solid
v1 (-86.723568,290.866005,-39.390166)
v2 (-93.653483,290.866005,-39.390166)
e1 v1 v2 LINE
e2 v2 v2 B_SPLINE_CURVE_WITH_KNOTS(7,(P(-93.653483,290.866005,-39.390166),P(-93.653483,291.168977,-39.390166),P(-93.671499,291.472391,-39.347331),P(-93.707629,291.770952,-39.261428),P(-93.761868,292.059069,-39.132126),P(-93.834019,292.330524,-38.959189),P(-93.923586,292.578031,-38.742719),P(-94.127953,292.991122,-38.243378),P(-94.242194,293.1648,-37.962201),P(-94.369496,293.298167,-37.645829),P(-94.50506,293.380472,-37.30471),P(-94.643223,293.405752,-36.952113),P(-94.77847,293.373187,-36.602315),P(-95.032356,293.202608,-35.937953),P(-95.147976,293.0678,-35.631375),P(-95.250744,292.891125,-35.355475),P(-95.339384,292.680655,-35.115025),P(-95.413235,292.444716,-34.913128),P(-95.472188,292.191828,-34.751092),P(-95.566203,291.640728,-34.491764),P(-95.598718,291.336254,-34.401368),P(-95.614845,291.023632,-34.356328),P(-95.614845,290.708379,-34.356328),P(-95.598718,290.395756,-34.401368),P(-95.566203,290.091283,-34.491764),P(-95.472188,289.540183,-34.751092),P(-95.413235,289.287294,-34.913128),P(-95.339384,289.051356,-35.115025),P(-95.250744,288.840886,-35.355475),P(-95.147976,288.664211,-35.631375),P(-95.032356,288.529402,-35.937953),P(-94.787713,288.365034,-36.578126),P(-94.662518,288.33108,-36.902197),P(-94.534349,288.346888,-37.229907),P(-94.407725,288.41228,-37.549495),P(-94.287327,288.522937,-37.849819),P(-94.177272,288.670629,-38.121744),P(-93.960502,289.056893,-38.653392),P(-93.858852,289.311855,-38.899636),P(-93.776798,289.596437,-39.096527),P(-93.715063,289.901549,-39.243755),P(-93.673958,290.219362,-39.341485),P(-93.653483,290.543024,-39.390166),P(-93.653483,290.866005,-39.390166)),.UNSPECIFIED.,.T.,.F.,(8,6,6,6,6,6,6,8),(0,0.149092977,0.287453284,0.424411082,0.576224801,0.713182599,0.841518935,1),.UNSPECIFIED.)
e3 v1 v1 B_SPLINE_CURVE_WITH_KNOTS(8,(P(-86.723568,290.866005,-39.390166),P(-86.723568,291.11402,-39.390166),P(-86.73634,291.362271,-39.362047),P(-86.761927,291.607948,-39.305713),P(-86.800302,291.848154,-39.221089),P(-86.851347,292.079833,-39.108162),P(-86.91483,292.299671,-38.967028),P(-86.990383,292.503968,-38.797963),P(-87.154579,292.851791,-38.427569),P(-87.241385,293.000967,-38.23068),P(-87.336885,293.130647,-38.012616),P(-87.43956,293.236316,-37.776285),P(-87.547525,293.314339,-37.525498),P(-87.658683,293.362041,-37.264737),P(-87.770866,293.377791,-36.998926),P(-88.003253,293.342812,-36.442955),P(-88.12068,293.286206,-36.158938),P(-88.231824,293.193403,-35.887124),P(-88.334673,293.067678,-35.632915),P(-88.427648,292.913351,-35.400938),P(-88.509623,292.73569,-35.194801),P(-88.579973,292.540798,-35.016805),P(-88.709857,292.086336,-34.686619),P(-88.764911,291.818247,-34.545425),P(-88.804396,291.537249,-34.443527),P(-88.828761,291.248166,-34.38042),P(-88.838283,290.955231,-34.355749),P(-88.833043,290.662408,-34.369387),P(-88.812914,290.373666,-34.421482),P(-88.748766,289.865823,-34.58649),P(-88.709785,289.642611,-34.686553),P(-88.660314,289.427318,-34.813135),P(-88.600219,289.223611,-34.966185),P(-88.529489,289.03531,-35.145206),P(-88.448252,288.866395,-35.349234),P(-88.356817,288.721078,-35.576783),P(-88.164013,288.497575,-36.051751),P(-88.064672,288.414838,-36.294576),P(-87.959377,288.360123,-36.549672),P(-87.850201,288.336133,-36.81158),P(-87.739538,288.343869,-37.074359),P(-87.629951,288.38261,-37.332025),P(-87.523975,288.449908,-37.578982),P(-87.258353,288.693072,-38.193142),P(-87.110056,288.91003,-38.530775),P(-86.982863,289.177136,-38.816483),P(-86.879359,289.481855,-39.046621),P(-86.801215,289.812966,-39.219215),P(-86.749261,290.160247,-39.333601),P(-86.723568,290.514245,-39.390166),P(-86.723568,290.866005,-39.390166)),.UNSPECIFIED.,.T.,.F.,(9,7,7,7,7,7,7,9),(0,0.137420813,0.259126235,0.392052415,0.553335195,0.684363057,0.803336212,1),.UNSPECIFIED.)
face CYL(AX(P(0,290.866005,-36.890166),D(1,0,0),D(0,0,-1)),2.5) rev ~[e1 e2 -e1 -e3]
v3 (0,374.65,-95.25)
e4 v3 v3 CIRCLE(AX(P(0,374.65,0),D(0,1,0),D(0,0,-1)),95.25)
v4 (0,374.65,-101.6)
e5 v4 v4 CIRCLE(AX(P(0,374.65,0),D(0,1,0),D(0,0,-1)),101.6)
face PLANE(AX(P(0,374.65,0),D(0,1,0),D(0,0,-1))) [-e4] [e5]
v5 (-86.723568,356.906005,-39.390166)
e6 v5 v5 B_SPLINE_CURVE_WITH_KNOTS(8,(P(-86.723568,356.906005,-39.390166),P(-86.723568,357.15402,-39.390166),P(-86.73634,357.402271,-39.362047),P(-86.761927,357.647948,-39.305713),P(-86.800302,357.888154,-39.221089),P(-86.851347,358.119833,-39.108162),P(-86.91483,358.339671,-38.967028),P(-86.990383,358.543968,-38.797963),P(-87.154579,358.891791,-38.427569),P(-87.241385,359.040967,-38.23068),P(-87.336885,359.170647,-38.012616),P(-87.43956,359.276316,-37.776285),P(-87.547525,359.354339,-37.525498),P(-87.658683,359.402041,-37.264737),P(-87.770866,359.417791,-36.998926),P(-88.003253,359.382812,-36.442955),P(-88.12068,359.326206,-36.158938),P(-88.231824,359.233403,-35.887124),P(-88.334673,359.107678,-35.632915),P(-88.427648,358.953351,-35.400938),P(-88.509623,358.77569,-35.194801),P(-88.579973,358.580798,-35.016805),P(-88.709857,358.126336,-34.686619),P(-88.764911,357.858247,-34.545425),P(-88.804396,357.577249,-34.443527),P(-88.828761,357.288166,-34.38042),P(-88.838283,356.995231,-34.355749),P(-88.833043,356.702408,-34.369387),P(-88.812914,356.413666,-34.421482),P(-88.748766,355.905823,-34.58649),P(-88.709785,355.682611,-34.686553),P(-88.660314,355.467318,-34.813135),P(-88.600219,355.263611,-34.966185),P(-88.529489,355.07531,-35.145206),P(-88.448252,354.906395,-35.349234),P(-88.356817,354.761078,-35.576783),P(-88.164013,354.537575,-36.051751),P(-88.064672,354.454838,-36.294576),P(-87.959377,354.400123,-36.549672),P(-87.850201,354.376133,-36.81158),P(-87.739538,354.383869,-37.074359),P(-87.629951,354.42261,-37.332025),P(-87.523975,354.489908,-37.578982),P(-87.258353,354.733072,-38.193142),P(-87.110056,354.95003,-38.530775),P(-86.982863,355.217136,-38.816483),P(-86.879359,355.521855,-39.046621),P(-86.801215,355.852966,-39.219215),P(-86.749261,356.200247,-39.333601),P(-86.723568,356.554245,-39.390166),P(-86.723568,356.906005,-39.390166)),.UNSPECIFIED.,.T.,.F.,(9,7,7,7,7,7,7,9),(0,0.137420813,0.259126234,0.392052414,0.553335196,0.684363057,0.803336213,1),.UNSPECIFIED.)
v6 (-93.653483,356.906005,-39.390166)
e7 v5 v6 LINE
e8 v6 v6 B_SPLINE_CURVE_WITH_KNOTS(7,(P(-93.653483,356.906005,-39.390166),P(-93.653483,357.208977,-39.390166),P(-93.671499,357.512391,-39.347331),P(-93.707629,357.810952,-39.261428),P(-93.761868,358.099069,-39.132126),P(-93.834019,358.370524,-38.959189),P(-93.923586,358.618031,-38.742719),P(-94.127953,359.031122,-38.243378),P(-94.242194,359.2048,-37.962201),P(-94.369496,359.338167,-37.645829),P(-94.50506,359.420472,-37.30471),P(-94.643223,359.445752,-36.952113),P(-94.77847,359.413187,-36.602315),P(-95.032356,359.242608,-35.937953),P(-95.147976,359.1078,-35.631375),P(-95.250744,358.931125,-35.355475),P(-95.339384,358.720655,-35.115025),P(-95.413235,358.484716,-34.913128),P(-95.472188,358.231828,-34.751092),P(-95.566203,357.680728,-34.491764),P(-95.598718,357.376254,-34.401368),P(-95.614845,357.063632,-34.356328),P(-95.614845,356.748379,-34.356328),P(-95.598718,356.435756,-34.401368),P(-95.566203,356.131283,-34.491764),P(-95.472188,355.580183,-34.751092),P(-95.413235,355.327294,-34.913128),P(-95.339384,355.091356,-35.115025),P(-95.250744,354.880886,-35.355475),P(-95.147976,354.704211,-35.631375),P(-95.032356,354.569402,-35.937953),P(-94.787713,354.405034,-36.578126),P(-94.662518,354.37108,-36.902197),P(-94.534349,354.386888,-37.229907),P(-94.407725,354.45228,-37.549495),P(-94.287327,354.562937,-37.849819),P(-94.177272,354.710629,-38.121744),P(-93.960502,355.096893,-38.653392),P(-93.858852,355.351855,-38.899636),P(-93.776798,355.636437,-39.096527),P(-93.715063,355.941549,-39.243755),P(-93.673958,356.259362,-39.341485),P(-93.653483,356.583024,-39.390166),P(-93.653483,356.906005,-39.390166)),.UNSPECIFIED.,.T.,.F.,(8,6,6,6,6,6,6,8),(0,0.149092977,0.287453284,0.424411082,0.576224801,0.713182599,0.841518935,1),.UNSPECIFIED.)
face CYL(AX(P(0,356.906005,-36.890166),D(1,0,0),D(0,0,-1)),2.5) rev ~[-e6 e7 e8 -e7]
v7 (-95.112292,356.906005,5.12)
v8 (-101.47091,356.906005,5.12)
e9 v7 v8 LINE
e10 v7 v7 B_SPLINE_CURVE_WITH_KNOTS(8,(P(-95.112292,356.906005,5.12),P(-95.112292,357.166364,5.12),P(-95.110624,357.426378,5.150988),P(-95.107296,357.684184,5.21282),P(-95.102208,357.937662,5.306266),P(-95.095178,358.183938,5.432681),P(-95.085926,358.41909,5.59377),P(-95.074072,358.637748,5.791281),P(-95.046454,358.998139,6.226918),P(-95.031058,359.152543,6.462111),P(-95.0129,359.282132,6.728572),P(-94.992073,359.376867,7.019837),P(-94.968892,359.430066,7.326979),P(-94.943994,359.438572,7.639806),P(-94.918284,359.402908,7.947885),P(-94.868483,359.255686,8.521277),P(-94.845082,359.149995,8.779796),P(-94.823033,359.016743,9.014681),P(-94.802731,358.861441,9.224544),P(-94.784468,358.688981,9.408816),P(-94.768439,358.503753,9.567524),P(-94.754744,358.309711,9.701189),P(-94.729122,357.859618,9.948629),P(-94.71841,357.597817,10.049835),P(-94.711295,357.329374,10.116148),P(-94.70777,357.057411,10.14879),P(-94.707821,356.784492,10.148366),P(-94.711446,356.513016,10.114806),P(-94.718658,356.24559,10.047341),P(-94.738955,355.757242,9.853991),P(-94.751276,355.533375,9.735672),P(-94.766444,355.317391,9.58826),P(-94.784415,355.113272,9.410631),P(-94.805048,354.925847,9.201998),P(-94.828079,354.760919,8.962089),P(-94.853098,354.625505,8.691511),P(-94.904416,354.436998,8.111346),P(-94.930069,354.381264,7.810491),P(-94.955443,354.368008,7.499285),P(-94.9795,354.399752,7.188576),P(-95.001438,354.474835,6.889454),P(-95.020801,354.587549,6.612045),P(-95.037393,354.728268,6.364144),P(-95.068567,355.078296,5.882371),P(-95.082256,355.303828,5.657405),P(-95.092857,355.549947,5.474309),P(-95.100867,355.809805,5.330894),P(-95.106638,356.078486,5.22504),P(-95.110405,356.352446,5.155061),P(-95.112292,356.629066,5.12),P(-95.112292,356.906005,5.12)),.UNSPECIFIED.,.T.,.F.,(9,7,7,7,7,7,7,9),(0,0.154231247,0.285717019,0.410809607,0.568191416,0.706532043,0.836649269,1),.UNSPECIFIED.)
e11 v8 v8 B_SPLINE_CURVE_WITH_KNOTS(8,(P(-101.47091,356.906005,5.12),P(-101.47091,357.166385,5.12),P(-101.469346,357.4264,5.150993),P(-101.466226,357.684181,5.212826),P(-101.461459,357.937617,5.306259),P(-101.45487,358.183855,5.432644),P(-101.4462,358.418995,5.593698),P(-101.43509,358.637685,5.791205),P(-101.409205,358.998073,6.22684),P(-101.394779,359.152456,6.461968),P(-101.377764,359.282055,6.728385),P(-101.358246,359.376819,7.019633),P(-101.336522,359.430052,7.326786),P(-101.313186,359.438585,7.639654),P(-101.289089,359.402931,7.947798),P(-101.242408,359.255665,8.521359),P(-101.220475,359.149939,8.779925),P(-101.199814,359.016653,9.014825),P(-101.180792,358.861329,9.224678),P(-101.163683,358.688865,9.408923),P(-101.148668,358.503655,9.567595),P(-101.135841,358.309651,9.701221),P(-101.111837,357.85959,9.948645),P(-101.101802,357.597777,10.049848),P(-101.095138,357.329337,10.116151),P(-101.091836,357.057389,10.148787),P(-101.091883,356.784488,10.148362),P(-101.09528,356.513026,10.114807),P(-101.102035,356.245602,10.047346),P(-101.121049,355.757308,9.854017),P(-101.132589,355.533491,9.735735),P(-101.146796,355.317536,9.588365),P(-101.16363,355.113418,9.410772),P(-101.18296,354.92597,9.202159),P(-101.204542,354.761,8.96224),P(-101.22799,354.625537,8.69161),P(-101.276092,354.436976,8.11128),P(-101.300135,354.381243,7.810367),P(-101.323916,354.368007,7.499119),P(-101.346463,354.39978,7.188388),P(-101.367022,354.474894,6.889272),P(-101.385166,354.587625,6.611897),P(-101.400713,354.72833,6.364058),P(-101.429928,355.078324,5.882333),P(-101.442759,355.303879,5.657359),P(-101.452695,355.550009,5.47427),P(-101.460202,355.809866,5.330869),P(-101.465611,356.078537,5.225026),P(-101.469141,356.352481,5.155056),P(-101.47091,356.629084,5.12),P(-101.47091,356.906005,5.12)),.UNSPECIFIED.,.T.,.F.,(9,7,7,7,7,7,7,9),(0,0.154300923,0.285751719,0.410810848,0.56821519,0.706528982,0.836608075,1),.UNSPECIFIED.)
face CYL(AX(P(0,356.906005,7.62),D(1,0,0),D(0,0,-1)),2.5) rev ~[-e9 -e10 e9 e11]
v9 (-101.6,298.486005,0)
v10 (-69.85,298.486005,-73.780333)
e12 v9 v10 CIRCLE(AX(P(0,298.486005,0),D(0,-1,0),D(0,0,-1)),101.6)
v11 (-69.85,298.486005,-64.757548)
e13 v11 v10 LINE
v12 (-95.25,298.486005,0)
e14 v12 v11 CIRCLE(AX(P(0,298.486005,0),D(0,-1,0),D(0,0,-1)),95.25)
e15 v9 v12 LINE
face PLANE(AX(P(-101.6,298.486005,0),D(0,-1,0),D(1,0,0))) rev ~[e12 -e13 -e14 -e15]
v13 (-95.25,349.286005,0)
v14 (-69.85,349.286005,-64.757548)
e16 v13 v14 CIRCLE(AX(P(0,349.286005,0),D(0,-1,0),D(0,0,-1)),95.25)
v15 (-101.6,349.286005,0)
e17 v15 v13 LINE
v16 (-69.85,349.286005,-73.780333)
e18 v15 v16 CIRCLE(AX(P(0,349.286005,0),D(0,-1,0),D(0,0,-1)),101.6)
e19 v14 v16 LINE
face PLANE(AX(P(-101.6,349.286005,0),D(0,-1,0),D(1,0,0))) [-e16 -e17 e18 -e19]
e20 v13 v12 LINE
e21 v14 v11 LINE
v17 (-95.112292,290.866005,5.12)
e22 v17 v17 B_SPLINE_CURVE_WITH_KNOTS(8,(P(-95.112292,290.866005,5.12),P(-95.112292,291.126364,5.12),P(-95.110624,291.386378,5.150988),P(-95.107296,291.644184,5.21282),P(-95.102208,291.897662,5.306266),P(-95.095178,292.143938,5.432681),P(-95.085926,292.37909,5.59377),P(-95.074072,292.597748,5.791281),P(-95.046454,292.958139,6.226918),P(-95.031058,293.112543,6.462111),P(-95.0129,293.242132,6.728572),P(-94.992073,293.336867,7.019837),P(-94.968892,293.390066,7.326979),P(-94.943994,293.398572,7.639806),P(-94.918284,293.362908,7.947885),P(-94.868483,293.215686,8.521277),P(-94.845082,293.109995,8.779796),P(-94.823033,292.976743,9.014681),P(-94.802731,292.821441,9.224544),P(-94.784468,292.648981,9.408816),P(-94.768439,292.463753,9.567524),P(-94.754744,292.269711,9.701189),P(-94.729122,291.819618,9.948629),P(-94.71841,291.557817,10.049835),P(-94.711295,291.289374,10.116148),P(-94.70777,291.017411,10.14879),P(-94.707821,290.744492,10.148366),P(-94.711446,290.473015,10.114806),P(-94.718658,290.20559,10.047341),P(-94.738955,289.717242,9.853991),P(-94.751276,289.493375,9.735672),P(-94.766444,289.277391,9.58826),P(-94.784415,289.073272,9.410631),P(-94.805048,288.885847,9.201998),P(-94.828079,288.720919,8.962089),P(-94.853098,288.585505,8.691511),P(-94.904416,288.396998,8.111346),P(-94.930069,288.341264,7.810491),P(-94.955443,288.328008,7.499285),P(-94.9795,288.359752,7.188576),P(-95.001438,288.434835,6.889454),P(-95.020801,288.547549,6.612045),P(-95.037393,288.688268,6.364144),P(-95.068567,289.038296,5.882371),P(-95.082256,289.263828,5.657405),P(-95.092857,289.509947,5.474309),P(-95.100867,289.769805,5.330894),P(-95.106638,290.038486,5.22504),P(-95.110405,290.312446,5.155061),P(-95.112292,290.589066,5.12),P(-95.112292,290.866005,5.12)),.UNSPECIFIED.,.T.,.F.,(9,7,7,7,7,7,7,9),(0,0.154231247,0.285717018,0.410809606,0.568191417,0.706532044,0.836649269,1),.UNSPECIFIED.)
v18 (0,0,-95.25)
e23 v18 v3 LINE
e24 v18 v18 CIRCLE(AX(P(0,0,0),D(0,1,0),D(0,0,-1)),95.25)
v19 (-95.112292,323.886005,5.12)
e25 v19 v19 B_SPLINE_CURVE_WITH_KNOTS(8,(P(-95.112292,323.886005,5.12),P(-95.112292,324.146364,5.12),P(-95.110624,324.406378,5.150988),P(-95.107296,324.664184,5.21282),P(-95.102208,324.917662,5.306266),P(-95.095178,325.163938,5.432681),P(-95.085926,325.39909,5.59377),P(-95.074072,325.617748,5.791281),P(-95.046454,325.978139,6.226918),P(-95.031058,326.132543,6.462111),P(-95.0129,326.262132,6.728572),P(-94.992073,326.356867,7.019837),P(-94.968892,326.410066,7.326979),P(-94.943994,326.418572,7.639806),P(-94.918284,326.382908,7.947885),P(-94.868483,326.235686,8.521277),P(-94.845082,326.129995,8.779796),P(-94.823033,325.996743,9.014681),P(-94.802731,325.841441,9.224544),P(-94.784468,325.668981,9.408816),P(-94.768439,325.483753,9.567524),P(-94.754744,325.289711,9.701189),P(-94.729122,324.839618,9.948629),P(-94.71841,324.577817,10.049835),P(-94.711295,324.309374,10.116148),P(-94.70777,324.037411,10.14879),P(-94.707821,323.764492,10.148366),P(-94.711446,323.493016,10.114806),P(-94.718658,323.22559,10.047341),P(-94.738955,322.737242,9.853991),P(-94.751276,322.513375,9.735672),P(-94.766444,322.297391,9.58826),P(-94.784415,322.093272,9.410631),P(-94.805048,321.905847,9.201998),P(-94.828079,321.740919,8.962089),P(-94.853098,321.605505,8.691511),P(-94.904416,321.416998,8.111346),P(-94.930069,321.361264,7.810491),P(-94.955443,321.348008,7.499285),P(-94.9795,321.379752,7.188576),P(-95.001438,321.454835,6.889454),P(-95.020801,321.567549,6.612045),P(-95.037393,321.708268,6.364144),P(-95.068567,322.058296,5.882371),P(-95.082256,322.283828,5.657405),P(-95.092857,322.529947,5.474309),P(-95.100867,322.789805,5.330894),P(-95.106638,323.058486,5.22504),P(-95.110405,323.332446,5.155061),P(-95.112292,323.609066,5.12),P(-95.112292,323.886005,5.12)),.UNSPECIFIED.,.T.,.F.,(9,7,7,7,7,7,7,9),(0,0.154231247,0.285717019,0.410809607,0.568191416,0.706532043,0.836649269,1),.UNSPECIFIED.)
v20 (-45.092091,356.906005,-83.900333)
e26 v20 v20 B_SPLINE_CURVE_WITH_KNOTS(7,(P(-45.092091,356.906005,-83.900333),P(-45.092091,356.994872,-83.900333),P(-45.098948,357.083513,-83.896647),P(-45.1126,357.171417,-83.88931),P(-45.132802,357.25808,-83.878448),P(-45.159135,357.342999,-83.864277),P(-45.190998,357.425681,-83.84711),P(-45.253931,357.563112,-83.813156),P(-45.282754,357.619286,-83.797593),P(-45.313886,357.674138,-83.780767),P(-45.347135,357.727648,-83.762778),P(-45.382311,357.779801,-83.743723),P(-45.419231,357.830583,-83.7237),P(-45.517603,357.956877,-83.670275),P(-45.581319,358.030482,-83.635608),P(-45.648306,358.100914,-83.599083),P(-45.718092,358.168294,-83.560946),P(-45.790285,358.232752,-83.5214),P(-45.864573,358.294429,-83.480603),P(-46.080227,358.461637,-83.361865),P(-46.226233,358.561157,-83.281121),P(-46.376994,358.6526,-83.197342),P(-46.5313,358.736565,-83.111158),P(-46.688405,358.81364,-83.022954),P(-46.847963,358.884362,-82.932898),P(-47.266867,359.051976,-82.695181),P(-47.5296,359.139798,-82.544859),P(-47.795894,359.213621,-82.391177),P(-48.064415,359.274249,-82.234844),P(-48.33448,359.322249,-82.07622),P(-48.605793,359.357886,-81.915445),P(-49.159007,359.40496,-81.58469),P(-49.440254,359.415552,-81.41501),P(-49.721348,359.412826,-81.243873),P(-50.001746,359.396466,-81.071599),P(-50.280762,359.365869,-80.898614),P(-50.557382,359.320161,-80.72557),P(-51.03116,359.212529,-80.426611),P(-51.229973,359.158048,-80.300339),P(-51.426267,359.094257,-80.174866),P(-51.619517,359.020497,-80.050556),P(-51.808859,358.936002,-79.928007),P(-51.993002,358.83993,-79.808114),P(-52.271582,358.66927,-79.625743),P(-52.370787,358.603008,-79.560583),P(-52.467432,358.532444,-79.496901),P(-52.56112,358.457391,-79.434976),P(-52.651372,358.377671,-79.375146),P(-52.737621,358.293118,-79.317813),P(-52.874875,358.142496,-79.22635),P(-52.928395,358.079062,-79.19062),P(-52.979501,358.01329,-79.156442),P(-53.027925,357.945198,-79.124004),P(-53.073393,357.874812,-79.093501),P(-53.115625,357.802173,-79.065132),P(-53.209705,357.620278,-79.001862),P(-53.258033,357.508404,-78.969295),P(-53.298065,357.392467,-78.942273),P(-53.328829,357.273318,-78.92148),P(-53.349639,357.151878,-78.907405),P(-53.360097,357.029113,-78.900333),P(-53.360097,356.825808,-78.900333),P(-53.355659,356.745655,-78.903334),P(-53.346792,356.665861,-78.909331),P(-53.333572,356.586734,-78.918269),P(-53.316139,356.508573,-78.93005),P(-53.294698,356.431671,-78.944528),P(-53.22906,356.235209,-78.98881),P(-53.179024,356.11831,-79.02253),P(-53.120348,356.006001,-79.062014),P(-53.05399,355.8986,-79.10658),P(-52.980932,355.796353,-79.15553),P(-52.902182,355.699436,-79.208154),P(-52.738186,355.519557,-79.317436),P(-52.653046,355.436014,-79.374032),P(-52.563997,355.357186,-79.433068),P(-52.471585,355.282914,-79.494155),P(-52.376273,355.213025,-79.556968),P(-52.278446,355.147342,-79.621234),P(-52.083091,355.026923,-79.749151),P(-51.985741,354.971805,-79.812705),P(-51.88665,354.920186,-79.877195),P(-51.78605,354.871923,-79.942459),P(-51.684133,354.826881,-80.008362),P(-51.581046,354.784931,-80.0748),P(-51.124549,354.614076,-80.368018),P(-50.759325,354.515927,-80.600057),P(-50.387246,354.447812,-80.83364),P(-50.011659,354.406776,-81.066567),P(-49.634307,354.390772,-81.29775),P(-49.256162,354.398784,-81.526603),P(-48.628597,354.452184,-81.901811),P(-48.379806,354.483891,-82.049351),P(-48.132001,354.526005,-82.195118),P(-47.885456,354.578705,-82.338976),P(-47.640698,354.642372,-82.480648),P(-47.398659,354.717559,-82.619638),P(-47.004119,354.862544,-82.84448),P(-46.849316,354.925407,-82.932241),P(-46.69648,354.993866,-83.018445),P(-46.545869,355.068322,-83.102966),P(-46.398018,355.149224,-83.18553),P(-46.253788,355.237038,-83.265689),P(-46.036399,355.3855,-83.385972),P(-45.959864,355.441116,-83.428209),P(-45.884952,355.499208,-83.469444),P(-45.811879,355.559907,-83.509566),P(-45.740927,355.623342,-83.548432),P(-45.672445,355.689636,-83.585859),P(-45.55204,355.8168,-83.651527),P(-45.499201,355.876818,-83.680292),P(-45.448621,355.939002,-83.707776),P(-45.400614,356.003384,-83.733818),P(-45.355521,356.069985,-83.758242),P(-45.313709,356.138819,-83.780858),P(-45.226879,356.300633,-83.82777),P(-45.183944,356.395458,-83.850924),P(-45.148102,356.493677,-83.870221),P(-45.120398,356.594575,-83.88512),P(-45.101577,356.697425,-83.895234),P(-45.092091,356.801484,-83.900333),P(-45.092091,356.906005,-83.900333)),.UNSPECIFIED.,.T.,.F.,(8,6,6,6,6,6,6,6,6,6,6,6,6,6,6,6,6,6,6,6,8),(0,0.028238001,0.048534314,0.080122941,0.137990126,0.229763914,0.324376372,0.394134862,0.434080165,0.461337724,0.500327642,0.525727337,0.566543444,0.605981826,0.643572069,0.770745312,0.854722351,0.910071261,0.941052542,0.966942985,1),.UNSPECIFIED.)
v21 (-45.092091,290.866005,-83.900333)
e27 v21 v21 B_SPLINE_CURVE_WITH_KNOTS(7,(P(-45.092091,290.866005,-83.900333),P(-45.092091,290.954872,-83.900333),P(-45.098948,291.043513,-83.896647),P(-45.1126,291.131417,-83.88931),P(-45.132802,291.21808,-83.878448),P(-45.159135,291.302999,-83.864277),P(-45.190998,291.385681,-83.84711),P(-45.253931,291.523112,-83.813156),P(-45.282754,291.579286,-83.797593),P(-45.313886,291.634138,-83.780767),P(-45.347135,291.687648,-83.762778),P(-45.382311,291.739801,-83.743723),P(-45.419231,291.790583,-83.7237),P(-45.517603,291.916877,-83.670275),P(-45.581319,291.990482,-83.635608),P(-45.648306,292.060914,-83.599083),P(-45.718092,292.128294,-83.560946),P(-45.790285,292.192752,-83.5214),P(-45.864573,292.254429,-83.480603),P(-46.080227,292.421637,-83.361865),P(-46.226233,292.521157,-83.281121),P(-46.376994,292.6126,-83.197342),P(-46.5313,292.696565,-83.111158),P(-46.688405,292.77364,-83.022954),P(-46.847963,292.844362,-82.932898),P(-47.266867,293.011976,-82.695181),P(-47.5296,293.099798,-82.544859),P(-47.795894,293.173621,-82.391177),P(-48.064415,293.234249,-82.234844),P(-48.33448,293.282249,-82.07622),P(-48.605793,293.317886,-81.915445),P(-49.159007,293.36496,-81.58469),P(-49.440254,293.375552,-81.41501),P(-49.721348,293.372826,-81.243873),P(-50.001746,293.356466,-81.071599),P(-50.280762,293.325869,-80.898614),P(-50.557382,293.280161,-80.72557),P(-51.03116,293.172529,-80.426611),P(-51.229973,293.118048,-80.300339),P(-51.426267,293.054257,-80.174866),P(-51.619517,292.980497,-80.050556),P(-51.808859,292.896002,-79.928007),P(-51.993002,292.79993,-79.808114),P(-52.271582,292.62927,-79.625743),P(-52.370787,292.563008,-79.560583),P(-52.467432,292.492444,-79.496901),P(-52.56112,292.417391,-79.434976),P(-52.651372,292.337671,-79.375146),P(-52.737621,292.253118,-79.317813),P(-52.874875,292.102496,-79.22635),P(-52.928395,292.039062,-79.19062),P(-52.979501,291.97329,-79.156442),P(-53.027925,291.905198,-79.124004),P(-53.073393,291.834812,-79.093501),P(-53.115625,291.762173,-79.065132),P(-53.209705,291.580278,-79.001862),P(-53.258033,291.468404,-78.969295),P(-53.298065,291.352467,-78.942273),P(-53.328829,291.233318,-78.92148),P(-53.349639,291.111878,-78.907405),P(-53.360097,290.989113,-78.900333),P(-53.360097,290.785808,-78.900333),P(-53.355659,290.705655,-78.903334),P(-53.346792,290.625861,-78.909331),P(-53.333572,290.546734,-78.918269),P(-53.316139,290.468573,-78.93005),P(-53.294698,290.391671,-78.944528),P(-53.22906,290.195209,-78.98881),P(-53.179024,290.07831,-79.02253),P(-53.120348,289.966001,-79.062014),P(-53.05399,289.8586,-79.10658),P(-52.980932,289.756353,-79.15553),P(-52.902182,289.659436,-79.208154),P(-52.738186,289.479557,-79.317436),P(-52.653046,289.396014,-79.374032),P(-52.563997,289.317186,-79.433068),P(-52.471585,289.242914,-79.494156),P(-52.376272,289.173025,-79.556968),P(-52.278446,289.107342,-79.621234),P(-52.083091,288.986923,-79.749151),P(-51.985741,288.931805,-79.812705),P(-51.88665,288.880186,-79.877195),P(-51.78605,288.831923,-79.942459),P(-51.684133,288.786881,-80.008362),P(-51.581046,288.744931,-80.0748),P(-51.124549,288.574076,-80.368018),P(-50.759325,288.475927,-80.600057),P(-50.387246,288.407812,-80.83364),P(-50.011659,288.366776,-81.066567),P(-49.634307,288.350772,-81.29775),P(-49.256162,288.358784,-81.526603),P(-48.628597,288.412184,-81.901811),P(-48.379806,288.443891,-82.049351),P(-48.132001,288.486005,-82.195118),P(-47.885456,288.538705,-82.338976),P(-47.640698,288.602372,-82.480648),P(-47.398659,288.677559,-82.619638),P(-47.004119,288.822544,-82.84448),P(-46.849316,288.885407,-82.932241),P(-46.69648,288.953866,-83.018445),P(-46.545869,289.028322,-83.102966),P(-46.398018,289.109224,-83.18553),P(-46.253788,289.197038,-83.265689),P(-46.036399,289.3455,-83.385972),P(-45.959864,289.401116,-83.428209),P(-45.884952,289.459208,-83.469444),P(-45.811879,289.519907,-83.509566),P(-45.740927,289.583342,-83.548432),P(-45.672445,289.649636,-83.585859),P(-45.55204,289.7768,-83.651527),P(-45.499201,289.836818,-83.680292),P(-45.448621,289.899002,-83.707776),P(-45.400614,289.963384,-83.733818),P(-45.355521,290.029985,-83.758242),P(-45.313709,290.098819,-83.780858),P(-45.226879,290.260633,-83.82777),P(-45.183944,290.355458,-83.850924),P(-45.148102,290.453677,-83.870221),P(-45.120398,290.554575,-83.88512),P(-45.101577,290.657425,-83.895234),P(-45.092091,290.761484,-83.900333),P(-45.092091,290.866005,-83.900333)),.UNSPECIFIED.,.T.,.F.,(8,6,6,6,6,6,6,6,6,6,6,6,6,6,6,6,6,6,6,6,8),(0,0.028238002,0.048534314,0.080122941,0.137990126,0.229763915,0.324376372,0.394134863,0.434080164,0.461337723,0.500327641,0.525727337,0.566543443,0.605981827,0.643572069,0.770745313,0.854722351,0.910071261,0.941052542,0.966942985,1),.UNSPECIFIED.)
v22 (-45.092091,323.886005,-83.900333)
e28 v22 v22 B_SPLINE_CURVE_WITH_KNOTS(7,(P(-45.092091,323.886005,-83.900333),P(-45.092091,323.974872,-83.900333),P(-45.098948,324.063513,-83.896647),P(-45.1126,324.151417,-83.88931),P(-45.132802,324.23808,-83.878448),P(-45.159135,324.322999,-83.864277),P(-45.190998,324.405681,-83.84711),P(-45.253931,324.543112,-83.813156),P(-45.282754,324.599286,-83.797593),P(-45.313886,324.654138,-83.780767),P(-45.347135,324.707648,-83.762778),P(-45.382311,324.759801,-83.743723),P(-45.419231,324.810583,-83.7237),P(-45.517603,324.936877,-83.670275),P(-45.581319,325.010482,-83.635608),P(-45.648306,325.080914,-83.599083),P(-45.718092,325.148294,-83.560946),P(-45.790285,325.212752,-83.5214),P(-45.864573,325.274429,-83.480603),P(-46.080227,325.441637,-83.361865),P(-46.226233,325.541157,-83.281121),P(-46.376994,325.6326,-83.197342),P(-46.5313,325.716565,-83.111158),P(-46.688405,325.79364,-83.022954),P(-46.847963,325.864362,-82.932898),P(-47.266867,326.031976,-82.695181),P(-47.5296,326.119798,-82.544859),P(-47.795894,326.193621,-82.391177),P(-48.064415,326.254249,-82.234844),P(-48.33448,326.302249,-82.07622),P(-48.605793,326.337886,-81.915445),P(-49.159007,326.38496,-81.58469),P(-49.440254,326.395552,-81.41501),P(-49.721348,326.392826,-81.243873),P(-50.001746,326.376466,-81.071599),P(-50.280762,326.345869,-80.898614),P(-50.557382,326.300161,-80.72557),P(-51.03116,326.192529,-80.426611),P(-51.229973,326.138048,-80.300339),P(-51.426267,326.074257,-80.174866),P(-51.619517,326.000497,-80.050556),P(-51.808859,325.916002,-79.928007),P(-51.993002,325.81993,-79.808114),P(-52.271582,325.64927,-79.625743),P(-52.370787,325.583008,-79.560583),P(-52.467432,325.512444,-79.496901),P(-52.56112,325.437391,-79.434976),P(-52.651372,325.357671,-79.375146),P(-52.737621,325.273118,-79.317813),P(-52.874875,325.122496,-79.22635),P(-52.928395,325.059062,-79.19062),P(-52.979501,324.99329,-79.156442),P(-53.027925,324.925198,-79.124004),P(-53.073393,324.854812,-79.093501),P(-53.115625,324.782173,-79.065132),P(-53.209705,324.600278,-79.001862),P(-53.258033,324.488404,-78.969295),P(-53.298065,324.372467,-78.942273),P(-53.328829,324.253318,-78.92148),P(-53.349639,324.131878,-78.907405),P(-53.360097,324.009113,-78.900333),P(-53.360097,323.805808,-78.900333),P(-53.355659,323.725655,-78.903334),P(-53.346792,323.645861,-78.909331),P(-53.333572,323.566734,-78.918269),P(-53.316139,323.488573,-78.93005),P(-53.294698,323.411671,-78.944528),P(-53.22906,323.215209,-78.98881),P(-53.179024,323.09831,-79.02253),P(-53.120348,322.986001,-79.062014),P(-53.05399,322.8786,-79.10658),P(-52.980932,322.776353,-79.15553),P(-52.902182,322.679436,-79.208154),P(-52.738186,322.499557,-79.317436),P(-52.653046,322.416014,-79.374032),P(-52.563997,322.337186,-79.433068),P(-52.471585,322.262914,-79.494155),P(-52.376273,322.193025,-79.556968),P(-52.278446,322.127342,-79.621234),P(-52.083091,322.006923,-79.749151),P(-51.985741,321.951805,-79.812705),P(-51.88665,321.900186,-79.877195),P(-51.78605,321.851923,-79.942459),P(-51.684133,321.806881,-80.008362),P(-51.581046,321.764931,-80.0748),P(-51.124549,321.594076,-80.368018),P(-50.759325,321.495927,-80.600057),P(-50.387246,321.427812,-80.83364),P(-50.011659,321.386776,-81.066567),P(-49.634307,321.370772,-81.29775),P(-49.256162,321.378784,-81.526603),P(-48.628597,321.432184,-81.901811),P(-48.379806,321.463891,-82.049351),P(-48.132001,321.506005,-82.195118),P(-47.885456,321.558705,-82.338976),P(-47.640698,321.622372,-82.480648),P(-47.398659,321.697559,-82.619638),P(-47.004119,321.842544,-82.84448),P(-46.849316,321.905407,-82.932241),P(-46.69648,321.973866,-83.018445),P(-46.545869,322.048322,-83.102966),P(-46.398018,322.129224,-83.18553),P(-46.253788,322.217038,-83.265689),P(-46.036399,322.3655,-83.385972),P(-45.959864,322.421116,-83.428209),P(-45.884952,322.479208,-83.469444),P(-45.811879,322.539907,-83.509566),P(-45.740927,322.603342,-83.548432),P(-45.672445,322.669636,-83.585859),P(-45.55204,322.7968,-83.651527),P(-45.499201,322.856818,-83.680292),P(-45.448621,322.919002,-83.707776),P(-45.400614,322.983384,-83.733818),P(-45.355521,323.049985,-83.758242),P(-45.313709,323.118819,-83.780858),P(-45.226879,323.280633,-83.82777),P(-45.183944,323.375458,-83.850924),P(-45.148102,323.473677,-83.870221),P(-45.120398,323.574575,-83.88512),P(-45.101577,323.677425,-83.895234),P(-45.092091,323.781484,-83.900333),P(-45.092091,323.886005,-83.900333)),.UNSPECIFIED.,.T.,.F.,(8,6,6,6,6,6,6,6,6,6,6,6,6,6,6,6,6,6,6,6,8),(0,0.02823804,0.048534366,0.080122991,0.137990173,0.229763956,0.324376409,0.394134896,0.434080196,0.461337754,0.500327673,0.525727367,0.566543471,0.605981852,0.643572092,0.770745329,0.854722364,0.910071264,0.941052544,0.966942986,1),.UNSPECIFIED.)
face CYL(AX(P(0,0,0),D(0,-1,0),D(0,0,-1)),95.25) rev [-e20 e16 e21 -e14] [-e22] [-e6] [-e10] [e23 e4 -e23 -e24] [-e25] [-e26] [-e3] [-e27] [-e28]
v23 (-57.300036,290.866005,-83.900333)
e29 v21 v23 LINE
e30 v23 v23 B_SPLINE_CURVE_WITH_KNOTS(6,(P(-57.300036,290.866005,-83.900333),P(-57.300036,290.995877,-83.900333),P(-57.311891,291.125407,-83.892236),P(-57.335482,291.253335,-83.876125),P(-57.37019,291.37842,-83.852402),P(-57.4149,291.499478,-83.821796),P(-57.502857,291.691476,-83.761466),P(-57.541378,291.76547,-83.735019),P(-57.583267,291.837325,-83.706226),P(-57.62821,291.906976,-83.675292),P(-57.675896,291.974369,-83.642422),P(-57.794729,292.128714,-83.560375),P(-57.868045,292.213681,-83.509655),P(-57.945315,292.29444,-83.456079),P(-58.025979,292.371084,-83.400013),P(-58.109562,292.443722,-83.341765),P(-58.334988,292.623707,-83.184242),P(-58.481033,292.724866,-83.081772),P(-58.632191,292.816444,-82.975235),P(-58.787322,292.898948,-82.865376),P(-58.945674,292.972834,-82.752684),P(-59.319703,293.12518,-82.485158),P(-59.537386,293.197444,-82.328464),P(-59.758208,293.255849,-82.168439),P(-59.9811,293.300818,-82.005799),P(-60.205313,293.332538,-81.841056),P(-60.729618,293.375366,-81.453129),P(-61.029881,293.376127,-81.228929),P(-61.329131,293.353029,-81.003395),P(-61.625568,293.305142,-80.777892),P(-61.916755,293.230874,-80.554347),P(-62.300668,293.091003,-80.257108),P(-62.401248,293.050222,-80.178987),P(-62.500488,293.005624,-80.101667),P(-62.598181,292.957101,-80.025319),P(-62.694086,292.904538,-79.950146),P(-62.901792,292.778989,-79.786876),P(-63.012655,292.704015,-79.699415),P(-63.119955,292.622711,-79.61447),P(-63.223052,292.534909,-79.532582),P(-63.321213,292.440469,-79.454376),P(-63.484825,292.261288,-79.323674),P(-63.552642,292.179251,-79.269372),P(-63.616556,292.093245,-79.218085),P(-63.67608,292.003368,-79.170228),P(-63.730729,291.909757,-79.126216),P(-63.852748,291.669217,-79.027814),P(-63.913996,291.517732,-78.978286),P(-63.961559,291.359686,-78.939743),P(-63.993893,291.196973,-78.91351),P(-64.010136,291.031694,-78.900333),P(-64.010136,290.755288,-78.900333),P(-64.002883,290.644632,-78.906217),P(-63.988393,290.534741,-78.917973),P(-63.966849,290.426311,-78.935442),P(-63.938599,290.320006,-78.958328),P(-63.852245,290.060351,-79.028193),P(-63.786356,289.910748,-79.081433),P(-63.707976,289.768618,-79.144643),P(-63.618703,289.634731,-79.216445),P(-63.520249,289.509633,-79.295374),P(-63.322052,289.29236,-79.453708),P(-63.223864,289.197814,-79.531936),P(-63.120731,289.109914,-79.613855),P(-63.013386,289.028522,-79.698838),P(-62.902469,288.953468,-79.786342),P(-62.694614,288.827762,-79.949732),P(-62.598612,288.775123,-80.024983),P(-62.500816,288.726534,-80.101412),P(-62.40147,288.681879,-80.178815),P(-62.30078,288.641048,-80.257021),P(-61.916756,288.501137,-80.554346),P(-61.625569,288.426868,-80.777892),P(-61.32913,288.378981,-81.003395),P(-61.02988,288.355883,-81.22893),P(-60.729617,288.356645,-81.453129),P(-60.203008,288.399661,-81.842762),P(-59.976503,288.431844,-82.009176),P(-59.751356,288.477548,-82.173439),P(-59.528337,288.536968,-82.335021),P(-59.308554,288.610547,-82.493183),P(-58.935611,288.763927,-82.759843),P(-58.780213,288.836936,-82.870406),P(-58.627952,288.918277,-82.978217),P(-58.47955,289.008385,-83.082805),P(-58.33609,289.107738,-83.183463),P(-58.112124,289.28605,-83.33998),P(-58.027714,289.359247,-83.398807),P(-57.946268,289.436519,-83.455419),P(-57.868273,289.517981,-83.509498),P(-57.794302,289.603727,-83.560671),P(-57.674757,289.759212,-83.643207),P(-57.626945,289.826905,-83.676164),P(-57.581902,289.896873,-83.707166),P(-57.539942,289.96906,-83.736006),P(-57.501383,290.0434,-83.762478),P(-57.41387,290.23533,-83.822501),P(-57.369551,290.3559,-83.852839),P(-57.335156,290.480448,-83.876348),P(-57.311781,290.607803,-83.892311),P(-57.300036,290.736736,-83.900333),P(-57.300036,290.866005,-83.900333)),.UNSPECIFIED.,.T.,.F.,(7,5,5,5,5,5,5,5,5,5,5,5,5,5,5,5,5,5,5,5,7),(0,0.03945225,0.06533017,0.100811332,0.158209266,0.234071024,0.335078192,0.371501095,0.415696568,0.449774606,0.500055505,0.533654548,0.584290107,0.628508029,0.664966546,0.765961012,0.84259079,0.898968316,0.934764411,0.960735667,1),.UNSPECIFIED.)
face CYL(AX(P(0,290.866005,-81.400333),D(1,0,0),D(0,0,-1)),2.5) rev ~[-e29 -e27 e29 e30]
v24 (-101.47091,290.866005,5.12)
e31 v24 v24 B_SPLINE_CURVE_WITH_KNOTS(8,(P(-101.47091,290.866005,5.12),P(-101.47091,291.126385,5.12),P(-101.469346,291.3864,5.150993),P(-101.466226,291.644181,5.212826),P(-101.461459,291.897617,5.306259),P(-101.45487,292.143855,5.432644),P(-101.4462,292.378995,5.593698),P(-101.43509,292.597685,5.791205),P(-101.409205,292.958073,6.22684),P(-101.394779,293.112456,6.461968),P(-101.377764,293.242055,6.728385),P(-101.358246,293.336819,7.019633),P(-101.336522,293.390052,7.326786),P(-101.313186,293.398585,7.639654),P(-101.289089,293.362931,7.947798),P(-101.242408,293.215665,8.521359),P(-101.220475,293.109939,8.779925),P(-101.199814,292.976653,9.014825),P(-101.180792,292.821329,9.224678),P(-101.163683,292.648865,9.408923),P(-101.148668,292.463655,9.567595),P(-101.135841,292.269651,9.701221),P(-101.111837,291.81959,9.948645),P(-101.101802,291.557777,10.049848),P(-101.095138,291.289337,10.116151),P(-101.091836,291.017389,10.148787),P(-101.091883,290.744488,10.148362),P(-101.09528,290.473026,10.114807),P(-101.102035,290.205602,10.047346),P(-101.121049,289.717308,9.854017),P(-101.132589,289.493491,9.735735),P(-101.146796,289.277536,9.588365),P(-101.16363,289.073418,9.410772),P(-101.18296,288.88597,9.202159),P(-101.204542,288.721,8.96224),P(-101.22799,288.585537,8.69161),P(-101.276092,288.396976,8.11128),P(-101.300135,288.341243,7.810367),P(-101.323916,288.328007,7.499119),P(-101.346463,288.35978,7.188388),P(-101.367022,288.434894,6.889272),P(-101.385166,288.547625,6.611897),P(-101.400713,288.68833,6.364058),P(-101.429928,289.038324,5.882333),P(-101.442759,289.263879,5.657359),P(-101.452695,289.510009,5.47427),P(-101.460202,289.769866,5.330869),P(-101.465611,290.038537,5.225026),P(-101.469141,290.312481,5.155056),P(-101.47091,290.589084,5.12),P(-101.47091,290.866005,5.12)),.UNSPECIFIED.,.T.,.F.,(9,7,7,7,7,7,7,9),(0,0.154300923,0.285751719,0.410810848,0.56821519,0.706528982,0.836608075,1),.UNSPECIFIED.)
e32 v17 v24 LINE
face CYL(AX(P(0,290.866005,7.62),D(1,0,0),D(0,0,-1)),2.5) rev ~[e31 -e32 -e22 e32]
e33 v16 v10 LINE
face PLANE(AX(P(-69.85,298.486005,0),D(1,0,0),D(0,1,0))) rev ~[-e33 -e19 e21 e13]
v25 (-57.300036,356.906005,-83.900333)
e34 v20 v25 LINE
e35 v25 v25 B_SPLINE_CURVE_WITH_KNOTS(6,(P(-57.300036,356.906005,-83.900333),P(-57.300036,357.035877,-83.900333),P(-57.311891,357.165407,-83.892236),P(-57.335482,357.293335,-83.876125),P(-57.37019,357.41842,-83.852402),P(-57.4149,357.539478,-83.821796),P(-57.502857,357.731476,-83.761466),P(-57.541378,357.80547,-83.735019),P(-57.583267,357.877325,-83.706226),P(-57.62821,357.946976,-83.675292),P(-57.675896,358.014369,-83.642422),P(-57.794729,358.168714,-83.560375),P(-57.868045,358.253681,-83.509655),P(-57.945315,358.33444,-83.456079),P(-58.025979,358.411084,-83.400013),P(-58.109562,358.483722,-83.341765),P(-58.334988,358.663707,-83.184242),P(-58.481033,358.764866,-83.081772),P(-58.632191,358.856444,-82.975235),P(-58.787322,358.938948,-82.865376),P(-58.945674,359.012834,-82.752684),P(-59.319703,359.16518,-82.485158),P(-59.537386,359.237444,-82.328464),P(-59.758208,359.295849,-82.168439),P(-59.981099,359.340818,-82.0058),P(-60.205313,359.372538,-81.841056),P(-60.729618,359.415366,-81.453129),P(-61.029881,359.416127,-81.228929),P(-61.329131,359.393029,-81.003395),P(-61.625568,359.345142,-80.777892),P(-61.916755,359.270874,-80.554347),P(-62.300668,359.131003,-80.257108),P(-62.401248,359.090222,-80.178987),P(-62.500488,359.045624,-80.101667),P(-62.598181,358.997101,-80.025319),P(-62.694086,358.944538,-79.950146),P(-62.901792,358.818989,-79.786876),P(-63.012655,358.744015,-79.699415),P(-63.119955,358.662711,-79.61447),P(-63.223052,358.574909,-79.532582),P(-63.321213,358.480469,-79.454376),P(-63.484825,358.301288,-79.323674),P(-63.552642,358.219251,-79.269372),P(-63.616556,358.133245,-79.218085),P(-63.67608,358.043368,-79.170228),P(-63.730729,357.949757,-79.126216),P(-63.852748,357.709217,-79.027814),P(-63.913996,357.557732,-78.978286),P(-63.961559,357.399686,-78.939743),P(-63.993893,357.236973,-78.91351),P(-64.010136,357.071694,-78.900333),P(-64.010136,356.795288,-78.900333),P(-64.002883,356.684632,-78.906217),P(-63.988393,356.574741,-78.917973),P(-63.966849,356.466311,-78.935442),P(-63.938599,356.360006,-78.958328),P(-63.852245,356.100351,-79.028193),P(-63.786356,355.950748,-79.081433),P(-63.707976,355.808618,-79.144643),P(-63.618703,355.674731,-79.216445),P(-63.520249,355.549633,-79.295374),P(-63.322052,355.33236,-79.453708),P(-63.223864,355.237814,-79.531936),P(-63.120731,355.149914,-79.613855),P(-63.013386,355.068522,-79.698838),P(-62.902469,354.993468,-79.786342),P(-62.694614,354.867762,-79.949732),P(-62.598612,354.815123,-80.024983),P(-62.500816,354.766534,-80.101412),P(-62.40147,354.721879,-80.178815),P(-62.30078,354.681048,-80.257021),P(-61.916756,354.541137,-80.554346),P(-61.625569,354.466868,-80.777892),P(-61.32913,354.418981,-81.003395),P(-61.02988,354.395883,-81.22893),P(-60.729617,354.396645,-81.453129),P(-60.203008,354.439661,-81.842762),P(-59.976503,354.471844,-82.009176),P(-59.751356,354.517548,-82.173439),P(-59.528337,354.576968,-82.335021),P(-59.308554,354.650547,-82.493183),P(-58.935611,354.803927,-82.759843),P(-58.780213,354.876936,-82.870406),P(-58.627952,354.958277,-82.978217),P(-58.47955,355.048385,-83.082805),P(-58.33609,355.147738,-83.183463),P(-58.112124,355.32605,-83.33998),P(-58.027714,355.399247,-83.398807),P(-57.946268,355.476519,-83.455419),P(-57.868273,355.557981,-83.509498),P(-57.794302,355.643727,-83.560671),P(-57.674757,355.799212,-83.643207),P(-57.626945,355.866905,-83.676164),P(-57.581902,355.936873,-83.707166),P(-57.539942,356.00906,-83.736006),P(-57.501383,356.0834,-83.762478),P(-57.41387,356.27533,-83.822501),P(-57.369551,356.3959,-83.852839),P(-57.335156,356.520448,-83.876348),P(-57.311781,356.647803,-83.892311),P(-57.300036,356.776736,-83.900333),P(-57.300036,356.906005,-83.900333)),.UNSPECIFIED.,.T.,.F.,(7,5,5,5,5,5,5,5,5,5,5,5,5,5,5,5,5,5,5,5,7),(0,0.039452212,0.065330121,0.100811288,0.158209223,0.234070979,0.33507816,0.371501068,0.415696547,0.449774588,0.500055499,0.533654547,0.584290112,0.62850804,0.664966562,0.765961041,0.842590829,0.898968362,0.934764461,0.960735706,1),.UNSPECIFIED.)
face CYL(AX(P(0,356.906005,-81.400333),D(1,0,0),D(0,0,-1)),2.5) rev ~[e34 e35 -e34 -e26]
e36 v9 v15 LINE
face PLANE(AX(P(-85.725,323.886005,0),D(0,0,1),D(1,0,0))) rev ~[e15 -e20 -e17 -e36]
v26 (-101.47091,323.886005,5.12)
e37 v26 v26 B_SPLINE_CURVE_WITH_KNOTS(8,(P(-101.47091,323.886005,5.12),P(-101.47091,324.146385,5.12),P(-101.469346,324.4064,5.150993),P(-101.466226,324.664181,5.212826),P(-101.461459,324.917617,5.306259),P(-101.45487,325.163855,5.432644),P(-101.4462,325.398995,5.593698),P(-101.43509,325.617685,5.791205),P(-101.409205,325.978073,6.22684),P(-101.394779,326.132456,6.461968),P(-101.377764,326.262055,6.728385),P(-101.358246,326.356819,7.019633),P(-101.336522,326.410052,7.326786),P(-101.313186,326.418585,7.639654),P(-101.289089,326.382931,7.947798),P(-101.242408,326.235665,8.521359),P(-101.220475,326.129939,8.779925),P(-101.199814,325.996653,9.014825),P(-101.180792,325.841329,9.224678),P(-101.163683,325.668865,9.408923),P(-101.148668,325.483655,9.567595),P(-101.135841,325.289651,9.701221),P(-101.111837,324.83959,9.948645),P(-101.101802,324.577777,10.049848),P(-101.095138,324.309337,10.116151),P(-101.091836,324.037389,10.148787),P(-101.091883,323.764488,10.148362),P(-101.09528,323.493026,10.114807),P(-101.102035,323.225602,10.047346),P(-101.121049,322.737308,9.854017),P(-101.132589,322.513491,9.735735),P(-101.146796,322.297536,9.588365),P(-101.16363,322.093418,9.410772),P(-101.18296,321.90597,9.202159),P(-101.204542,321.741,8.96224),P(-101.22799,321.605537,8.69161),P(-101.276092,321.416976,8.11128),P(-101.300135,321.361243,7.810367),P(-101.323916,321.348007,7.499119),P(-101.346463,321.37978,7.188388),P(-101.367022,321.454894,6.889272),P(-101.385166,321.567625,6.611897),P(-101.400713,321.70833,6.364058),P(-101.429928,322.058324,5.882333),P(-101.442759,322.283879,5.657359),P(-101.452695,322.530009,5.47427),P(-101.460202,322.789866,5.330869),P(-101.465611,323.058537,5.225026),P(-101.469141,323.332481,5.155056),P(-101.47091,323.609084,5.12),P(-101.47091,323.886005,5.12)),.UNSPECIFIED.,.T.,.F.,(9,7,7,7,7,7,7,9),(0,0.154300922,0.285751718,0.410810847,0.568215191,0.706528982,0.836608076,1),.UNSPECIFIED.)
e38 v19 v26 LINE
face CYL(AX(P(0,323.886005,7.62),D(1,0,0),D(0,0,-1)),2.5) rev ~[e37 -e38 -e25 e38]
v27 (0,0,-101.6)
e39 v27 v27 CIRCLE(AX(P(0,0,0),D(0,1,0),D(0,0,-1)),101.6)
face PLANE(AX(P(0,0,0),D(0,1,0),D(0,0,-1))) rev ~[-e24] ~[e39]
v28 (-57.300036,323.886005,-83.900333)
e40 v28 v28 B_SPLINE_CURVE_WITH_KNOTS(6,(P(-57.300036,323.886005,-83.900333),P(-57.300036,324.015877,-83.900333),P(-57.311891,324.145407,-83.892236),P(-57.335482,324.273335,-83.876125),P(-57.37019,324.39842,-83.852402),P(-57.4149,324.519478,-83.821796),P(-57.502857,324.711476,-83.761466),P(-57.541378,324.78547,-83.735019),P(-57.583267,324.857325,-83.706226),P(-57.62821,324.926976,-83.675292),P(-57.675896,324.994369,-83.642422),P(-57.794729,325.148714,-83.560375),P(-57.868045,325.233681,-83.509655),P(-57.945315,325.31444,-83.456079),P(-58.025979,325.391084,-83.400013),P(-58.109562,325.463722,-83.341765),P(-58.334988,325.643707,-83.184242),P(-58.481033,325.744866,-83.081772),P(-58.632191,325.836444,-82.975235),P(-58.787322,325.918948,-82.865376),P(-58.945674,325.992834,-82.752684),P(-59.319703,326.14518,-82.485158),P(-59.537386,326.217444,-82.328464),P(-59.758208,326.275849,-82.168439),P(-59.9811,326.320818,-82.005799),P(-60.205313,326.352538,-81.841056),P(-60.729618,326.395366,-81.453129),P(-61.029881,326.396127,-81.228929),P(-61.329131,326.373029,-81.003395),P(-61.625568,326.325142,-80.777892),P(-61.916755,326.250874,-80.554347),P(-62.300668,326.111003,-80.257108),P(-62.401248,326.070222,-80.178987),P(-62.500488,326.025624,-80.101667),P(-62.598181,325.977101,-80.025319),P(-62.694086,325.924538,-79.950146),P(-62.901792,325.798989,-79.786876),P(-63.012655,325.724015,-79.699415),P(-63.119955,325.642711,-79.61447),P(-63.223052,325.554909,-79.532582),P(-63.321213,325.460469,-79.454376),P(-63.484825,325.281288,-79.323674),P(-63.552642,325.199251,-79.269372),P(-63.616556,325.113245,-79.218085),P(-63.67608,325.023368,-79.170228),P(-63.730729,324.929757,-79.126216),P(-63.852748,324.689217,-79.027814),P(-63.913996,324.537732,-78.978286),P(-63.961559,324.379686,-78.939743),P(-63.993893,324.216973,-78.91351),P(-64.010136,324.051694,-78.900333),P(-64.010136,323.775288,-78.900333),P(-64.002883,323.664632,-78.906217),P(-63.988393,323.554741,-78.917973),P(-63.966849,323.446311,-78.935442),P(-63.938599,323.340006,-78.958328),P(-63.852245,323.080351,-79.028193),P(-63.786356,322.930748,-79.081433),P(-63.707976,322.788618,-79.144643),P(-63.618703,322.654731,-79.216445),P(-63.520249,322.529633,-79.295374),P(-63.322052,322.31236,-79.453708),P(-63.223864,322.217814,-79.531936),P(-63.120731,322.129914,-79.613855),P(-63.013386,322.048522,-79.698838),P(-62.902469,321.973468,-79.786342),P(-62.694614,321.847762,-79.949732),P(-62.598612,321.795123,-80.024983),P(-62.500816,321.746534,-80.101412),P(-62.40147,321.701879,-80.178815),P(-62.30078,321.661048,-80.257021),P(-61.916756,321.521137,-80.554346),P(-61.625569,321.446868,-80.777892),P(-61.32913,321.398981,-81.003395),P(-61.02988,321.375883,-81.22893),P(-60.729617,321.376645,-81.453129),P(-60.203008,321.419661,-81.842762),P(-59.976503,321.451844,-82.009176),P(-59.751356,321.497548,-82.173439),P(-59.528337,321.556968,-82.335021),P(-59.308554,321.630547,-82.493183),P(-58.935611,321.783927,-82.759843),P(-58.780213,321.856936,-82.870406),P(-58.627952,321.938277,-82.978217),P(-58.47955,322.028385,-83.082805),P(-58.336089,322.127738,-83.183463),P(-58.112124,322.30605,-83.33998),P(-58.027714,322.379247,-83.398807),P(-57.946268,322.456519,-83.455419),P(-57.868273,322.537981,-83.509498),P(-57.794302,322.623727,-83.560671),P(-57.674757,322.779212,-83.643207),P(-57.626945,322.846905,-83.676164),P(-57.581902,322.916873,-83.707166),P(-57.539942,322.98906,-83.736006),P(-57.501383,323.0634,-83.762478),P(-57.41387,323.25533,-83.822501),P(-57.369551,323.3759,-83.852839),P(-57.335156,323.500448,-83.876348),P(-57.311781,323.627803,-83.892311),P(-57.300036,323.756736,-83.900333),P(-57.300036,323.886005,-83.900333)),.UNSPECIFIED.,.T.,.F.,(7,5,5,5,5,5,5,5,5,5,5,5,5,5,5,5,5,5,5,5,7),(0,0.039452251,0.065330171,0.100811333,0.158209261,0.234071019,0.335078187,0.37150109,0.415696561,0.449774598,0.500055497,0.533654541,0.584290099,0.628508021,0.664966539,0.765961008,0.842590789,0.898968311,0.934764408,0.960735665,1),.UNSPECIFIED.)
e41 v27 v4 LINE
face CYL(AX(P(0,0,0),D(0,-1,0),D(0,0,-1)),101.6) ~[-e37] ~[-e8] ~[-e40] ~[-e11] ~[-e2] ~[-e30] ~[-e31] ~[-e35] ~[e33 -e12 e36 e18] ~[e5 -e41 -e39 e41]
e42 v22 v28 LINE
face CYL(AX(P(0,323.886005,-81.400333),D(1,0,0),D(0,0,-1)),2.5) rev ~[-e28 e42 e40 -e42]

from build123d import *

# Parameters (mm, degrees)
SKETCH2_R           = 101.6
SKETCH2_R_2         = 95.25
BOSS_EXTRUDE1_DEPTH = 374.65
SKETCH3_W           = 31.75
SKETCH3_H           = 50.8
CUT_EXTRUDE2_DEPTH  = 402.257700861
SKETCH4_R           = 2.5
CUT_EXTRUDE3_DEPTH  = 402.257700861


with BuildPart() as part:
    # Sketch2 → Boss-Extrude1 (new body)
    with BuildSketch(Plane(origin=(0, 0, 0), x_dir=(1, 0, 0), z_dir=(0, 1, 0))):
        with Locations(Location((0, 0, 0), (0, 0, 90))):
            Circle(SKETCH2_R)
        with Locations(Location((0, 0, 0), (0, 0, 90))):
            Circle(SKETCH2_R_2, mode=Mode.SUBTRACT)
    extrude(amount=BOSS_EXTRUDE1_DEPTH)

    # Sketch3 → Cut-Extrude2 (cut, through all)
    with BuildSketch(Plane.XY):
        with Locations((-85.725, 323.886005252)):
            Rectangle(SKETCH3_W, SKETCH3_H)
    extrude(amount=-CUT_EXTRUDE2_DEPTH, mode=Mode.SUBTRACT)

    # Sketch4 → Cut-Extrude3 (cut, through all)
    with BuildSketch(Plane(origin=(0, 0, 0), x_dir=(0, 0, -1), z_dir=(1, 0, 0))):
        with Locations((81.400332745, 356.906005252)):
            Circle(SKETCH4_R)
        with Locations((36.890166373, 356.906005252)):
            Circle(SKETCH4_R)
        with Locations((-7.62, 356.906005252)):
            Circle(SKETCH4_R)
        with Locations((-7.62, 323.886005252)):
            Circle(SKETCH4_R)
        with Locations((-7.62, 290.866005252)):
            Circle(SKETCH4_R)
        with Locations((36.890166373, 290.866005252)):
            Circle(SKETCH4_R)
        with Locations((81.400332745, 290.866005252)):
            Circle(SKETCH4_R)
        with Locations((81.400332745, 323.886005252)):
            Circle(SKETCH4_R)
    extrude(amount=-CUT_EXTRUDE3_DEPTH, mode=Mode.SUBTRACT)


solid = part.part
